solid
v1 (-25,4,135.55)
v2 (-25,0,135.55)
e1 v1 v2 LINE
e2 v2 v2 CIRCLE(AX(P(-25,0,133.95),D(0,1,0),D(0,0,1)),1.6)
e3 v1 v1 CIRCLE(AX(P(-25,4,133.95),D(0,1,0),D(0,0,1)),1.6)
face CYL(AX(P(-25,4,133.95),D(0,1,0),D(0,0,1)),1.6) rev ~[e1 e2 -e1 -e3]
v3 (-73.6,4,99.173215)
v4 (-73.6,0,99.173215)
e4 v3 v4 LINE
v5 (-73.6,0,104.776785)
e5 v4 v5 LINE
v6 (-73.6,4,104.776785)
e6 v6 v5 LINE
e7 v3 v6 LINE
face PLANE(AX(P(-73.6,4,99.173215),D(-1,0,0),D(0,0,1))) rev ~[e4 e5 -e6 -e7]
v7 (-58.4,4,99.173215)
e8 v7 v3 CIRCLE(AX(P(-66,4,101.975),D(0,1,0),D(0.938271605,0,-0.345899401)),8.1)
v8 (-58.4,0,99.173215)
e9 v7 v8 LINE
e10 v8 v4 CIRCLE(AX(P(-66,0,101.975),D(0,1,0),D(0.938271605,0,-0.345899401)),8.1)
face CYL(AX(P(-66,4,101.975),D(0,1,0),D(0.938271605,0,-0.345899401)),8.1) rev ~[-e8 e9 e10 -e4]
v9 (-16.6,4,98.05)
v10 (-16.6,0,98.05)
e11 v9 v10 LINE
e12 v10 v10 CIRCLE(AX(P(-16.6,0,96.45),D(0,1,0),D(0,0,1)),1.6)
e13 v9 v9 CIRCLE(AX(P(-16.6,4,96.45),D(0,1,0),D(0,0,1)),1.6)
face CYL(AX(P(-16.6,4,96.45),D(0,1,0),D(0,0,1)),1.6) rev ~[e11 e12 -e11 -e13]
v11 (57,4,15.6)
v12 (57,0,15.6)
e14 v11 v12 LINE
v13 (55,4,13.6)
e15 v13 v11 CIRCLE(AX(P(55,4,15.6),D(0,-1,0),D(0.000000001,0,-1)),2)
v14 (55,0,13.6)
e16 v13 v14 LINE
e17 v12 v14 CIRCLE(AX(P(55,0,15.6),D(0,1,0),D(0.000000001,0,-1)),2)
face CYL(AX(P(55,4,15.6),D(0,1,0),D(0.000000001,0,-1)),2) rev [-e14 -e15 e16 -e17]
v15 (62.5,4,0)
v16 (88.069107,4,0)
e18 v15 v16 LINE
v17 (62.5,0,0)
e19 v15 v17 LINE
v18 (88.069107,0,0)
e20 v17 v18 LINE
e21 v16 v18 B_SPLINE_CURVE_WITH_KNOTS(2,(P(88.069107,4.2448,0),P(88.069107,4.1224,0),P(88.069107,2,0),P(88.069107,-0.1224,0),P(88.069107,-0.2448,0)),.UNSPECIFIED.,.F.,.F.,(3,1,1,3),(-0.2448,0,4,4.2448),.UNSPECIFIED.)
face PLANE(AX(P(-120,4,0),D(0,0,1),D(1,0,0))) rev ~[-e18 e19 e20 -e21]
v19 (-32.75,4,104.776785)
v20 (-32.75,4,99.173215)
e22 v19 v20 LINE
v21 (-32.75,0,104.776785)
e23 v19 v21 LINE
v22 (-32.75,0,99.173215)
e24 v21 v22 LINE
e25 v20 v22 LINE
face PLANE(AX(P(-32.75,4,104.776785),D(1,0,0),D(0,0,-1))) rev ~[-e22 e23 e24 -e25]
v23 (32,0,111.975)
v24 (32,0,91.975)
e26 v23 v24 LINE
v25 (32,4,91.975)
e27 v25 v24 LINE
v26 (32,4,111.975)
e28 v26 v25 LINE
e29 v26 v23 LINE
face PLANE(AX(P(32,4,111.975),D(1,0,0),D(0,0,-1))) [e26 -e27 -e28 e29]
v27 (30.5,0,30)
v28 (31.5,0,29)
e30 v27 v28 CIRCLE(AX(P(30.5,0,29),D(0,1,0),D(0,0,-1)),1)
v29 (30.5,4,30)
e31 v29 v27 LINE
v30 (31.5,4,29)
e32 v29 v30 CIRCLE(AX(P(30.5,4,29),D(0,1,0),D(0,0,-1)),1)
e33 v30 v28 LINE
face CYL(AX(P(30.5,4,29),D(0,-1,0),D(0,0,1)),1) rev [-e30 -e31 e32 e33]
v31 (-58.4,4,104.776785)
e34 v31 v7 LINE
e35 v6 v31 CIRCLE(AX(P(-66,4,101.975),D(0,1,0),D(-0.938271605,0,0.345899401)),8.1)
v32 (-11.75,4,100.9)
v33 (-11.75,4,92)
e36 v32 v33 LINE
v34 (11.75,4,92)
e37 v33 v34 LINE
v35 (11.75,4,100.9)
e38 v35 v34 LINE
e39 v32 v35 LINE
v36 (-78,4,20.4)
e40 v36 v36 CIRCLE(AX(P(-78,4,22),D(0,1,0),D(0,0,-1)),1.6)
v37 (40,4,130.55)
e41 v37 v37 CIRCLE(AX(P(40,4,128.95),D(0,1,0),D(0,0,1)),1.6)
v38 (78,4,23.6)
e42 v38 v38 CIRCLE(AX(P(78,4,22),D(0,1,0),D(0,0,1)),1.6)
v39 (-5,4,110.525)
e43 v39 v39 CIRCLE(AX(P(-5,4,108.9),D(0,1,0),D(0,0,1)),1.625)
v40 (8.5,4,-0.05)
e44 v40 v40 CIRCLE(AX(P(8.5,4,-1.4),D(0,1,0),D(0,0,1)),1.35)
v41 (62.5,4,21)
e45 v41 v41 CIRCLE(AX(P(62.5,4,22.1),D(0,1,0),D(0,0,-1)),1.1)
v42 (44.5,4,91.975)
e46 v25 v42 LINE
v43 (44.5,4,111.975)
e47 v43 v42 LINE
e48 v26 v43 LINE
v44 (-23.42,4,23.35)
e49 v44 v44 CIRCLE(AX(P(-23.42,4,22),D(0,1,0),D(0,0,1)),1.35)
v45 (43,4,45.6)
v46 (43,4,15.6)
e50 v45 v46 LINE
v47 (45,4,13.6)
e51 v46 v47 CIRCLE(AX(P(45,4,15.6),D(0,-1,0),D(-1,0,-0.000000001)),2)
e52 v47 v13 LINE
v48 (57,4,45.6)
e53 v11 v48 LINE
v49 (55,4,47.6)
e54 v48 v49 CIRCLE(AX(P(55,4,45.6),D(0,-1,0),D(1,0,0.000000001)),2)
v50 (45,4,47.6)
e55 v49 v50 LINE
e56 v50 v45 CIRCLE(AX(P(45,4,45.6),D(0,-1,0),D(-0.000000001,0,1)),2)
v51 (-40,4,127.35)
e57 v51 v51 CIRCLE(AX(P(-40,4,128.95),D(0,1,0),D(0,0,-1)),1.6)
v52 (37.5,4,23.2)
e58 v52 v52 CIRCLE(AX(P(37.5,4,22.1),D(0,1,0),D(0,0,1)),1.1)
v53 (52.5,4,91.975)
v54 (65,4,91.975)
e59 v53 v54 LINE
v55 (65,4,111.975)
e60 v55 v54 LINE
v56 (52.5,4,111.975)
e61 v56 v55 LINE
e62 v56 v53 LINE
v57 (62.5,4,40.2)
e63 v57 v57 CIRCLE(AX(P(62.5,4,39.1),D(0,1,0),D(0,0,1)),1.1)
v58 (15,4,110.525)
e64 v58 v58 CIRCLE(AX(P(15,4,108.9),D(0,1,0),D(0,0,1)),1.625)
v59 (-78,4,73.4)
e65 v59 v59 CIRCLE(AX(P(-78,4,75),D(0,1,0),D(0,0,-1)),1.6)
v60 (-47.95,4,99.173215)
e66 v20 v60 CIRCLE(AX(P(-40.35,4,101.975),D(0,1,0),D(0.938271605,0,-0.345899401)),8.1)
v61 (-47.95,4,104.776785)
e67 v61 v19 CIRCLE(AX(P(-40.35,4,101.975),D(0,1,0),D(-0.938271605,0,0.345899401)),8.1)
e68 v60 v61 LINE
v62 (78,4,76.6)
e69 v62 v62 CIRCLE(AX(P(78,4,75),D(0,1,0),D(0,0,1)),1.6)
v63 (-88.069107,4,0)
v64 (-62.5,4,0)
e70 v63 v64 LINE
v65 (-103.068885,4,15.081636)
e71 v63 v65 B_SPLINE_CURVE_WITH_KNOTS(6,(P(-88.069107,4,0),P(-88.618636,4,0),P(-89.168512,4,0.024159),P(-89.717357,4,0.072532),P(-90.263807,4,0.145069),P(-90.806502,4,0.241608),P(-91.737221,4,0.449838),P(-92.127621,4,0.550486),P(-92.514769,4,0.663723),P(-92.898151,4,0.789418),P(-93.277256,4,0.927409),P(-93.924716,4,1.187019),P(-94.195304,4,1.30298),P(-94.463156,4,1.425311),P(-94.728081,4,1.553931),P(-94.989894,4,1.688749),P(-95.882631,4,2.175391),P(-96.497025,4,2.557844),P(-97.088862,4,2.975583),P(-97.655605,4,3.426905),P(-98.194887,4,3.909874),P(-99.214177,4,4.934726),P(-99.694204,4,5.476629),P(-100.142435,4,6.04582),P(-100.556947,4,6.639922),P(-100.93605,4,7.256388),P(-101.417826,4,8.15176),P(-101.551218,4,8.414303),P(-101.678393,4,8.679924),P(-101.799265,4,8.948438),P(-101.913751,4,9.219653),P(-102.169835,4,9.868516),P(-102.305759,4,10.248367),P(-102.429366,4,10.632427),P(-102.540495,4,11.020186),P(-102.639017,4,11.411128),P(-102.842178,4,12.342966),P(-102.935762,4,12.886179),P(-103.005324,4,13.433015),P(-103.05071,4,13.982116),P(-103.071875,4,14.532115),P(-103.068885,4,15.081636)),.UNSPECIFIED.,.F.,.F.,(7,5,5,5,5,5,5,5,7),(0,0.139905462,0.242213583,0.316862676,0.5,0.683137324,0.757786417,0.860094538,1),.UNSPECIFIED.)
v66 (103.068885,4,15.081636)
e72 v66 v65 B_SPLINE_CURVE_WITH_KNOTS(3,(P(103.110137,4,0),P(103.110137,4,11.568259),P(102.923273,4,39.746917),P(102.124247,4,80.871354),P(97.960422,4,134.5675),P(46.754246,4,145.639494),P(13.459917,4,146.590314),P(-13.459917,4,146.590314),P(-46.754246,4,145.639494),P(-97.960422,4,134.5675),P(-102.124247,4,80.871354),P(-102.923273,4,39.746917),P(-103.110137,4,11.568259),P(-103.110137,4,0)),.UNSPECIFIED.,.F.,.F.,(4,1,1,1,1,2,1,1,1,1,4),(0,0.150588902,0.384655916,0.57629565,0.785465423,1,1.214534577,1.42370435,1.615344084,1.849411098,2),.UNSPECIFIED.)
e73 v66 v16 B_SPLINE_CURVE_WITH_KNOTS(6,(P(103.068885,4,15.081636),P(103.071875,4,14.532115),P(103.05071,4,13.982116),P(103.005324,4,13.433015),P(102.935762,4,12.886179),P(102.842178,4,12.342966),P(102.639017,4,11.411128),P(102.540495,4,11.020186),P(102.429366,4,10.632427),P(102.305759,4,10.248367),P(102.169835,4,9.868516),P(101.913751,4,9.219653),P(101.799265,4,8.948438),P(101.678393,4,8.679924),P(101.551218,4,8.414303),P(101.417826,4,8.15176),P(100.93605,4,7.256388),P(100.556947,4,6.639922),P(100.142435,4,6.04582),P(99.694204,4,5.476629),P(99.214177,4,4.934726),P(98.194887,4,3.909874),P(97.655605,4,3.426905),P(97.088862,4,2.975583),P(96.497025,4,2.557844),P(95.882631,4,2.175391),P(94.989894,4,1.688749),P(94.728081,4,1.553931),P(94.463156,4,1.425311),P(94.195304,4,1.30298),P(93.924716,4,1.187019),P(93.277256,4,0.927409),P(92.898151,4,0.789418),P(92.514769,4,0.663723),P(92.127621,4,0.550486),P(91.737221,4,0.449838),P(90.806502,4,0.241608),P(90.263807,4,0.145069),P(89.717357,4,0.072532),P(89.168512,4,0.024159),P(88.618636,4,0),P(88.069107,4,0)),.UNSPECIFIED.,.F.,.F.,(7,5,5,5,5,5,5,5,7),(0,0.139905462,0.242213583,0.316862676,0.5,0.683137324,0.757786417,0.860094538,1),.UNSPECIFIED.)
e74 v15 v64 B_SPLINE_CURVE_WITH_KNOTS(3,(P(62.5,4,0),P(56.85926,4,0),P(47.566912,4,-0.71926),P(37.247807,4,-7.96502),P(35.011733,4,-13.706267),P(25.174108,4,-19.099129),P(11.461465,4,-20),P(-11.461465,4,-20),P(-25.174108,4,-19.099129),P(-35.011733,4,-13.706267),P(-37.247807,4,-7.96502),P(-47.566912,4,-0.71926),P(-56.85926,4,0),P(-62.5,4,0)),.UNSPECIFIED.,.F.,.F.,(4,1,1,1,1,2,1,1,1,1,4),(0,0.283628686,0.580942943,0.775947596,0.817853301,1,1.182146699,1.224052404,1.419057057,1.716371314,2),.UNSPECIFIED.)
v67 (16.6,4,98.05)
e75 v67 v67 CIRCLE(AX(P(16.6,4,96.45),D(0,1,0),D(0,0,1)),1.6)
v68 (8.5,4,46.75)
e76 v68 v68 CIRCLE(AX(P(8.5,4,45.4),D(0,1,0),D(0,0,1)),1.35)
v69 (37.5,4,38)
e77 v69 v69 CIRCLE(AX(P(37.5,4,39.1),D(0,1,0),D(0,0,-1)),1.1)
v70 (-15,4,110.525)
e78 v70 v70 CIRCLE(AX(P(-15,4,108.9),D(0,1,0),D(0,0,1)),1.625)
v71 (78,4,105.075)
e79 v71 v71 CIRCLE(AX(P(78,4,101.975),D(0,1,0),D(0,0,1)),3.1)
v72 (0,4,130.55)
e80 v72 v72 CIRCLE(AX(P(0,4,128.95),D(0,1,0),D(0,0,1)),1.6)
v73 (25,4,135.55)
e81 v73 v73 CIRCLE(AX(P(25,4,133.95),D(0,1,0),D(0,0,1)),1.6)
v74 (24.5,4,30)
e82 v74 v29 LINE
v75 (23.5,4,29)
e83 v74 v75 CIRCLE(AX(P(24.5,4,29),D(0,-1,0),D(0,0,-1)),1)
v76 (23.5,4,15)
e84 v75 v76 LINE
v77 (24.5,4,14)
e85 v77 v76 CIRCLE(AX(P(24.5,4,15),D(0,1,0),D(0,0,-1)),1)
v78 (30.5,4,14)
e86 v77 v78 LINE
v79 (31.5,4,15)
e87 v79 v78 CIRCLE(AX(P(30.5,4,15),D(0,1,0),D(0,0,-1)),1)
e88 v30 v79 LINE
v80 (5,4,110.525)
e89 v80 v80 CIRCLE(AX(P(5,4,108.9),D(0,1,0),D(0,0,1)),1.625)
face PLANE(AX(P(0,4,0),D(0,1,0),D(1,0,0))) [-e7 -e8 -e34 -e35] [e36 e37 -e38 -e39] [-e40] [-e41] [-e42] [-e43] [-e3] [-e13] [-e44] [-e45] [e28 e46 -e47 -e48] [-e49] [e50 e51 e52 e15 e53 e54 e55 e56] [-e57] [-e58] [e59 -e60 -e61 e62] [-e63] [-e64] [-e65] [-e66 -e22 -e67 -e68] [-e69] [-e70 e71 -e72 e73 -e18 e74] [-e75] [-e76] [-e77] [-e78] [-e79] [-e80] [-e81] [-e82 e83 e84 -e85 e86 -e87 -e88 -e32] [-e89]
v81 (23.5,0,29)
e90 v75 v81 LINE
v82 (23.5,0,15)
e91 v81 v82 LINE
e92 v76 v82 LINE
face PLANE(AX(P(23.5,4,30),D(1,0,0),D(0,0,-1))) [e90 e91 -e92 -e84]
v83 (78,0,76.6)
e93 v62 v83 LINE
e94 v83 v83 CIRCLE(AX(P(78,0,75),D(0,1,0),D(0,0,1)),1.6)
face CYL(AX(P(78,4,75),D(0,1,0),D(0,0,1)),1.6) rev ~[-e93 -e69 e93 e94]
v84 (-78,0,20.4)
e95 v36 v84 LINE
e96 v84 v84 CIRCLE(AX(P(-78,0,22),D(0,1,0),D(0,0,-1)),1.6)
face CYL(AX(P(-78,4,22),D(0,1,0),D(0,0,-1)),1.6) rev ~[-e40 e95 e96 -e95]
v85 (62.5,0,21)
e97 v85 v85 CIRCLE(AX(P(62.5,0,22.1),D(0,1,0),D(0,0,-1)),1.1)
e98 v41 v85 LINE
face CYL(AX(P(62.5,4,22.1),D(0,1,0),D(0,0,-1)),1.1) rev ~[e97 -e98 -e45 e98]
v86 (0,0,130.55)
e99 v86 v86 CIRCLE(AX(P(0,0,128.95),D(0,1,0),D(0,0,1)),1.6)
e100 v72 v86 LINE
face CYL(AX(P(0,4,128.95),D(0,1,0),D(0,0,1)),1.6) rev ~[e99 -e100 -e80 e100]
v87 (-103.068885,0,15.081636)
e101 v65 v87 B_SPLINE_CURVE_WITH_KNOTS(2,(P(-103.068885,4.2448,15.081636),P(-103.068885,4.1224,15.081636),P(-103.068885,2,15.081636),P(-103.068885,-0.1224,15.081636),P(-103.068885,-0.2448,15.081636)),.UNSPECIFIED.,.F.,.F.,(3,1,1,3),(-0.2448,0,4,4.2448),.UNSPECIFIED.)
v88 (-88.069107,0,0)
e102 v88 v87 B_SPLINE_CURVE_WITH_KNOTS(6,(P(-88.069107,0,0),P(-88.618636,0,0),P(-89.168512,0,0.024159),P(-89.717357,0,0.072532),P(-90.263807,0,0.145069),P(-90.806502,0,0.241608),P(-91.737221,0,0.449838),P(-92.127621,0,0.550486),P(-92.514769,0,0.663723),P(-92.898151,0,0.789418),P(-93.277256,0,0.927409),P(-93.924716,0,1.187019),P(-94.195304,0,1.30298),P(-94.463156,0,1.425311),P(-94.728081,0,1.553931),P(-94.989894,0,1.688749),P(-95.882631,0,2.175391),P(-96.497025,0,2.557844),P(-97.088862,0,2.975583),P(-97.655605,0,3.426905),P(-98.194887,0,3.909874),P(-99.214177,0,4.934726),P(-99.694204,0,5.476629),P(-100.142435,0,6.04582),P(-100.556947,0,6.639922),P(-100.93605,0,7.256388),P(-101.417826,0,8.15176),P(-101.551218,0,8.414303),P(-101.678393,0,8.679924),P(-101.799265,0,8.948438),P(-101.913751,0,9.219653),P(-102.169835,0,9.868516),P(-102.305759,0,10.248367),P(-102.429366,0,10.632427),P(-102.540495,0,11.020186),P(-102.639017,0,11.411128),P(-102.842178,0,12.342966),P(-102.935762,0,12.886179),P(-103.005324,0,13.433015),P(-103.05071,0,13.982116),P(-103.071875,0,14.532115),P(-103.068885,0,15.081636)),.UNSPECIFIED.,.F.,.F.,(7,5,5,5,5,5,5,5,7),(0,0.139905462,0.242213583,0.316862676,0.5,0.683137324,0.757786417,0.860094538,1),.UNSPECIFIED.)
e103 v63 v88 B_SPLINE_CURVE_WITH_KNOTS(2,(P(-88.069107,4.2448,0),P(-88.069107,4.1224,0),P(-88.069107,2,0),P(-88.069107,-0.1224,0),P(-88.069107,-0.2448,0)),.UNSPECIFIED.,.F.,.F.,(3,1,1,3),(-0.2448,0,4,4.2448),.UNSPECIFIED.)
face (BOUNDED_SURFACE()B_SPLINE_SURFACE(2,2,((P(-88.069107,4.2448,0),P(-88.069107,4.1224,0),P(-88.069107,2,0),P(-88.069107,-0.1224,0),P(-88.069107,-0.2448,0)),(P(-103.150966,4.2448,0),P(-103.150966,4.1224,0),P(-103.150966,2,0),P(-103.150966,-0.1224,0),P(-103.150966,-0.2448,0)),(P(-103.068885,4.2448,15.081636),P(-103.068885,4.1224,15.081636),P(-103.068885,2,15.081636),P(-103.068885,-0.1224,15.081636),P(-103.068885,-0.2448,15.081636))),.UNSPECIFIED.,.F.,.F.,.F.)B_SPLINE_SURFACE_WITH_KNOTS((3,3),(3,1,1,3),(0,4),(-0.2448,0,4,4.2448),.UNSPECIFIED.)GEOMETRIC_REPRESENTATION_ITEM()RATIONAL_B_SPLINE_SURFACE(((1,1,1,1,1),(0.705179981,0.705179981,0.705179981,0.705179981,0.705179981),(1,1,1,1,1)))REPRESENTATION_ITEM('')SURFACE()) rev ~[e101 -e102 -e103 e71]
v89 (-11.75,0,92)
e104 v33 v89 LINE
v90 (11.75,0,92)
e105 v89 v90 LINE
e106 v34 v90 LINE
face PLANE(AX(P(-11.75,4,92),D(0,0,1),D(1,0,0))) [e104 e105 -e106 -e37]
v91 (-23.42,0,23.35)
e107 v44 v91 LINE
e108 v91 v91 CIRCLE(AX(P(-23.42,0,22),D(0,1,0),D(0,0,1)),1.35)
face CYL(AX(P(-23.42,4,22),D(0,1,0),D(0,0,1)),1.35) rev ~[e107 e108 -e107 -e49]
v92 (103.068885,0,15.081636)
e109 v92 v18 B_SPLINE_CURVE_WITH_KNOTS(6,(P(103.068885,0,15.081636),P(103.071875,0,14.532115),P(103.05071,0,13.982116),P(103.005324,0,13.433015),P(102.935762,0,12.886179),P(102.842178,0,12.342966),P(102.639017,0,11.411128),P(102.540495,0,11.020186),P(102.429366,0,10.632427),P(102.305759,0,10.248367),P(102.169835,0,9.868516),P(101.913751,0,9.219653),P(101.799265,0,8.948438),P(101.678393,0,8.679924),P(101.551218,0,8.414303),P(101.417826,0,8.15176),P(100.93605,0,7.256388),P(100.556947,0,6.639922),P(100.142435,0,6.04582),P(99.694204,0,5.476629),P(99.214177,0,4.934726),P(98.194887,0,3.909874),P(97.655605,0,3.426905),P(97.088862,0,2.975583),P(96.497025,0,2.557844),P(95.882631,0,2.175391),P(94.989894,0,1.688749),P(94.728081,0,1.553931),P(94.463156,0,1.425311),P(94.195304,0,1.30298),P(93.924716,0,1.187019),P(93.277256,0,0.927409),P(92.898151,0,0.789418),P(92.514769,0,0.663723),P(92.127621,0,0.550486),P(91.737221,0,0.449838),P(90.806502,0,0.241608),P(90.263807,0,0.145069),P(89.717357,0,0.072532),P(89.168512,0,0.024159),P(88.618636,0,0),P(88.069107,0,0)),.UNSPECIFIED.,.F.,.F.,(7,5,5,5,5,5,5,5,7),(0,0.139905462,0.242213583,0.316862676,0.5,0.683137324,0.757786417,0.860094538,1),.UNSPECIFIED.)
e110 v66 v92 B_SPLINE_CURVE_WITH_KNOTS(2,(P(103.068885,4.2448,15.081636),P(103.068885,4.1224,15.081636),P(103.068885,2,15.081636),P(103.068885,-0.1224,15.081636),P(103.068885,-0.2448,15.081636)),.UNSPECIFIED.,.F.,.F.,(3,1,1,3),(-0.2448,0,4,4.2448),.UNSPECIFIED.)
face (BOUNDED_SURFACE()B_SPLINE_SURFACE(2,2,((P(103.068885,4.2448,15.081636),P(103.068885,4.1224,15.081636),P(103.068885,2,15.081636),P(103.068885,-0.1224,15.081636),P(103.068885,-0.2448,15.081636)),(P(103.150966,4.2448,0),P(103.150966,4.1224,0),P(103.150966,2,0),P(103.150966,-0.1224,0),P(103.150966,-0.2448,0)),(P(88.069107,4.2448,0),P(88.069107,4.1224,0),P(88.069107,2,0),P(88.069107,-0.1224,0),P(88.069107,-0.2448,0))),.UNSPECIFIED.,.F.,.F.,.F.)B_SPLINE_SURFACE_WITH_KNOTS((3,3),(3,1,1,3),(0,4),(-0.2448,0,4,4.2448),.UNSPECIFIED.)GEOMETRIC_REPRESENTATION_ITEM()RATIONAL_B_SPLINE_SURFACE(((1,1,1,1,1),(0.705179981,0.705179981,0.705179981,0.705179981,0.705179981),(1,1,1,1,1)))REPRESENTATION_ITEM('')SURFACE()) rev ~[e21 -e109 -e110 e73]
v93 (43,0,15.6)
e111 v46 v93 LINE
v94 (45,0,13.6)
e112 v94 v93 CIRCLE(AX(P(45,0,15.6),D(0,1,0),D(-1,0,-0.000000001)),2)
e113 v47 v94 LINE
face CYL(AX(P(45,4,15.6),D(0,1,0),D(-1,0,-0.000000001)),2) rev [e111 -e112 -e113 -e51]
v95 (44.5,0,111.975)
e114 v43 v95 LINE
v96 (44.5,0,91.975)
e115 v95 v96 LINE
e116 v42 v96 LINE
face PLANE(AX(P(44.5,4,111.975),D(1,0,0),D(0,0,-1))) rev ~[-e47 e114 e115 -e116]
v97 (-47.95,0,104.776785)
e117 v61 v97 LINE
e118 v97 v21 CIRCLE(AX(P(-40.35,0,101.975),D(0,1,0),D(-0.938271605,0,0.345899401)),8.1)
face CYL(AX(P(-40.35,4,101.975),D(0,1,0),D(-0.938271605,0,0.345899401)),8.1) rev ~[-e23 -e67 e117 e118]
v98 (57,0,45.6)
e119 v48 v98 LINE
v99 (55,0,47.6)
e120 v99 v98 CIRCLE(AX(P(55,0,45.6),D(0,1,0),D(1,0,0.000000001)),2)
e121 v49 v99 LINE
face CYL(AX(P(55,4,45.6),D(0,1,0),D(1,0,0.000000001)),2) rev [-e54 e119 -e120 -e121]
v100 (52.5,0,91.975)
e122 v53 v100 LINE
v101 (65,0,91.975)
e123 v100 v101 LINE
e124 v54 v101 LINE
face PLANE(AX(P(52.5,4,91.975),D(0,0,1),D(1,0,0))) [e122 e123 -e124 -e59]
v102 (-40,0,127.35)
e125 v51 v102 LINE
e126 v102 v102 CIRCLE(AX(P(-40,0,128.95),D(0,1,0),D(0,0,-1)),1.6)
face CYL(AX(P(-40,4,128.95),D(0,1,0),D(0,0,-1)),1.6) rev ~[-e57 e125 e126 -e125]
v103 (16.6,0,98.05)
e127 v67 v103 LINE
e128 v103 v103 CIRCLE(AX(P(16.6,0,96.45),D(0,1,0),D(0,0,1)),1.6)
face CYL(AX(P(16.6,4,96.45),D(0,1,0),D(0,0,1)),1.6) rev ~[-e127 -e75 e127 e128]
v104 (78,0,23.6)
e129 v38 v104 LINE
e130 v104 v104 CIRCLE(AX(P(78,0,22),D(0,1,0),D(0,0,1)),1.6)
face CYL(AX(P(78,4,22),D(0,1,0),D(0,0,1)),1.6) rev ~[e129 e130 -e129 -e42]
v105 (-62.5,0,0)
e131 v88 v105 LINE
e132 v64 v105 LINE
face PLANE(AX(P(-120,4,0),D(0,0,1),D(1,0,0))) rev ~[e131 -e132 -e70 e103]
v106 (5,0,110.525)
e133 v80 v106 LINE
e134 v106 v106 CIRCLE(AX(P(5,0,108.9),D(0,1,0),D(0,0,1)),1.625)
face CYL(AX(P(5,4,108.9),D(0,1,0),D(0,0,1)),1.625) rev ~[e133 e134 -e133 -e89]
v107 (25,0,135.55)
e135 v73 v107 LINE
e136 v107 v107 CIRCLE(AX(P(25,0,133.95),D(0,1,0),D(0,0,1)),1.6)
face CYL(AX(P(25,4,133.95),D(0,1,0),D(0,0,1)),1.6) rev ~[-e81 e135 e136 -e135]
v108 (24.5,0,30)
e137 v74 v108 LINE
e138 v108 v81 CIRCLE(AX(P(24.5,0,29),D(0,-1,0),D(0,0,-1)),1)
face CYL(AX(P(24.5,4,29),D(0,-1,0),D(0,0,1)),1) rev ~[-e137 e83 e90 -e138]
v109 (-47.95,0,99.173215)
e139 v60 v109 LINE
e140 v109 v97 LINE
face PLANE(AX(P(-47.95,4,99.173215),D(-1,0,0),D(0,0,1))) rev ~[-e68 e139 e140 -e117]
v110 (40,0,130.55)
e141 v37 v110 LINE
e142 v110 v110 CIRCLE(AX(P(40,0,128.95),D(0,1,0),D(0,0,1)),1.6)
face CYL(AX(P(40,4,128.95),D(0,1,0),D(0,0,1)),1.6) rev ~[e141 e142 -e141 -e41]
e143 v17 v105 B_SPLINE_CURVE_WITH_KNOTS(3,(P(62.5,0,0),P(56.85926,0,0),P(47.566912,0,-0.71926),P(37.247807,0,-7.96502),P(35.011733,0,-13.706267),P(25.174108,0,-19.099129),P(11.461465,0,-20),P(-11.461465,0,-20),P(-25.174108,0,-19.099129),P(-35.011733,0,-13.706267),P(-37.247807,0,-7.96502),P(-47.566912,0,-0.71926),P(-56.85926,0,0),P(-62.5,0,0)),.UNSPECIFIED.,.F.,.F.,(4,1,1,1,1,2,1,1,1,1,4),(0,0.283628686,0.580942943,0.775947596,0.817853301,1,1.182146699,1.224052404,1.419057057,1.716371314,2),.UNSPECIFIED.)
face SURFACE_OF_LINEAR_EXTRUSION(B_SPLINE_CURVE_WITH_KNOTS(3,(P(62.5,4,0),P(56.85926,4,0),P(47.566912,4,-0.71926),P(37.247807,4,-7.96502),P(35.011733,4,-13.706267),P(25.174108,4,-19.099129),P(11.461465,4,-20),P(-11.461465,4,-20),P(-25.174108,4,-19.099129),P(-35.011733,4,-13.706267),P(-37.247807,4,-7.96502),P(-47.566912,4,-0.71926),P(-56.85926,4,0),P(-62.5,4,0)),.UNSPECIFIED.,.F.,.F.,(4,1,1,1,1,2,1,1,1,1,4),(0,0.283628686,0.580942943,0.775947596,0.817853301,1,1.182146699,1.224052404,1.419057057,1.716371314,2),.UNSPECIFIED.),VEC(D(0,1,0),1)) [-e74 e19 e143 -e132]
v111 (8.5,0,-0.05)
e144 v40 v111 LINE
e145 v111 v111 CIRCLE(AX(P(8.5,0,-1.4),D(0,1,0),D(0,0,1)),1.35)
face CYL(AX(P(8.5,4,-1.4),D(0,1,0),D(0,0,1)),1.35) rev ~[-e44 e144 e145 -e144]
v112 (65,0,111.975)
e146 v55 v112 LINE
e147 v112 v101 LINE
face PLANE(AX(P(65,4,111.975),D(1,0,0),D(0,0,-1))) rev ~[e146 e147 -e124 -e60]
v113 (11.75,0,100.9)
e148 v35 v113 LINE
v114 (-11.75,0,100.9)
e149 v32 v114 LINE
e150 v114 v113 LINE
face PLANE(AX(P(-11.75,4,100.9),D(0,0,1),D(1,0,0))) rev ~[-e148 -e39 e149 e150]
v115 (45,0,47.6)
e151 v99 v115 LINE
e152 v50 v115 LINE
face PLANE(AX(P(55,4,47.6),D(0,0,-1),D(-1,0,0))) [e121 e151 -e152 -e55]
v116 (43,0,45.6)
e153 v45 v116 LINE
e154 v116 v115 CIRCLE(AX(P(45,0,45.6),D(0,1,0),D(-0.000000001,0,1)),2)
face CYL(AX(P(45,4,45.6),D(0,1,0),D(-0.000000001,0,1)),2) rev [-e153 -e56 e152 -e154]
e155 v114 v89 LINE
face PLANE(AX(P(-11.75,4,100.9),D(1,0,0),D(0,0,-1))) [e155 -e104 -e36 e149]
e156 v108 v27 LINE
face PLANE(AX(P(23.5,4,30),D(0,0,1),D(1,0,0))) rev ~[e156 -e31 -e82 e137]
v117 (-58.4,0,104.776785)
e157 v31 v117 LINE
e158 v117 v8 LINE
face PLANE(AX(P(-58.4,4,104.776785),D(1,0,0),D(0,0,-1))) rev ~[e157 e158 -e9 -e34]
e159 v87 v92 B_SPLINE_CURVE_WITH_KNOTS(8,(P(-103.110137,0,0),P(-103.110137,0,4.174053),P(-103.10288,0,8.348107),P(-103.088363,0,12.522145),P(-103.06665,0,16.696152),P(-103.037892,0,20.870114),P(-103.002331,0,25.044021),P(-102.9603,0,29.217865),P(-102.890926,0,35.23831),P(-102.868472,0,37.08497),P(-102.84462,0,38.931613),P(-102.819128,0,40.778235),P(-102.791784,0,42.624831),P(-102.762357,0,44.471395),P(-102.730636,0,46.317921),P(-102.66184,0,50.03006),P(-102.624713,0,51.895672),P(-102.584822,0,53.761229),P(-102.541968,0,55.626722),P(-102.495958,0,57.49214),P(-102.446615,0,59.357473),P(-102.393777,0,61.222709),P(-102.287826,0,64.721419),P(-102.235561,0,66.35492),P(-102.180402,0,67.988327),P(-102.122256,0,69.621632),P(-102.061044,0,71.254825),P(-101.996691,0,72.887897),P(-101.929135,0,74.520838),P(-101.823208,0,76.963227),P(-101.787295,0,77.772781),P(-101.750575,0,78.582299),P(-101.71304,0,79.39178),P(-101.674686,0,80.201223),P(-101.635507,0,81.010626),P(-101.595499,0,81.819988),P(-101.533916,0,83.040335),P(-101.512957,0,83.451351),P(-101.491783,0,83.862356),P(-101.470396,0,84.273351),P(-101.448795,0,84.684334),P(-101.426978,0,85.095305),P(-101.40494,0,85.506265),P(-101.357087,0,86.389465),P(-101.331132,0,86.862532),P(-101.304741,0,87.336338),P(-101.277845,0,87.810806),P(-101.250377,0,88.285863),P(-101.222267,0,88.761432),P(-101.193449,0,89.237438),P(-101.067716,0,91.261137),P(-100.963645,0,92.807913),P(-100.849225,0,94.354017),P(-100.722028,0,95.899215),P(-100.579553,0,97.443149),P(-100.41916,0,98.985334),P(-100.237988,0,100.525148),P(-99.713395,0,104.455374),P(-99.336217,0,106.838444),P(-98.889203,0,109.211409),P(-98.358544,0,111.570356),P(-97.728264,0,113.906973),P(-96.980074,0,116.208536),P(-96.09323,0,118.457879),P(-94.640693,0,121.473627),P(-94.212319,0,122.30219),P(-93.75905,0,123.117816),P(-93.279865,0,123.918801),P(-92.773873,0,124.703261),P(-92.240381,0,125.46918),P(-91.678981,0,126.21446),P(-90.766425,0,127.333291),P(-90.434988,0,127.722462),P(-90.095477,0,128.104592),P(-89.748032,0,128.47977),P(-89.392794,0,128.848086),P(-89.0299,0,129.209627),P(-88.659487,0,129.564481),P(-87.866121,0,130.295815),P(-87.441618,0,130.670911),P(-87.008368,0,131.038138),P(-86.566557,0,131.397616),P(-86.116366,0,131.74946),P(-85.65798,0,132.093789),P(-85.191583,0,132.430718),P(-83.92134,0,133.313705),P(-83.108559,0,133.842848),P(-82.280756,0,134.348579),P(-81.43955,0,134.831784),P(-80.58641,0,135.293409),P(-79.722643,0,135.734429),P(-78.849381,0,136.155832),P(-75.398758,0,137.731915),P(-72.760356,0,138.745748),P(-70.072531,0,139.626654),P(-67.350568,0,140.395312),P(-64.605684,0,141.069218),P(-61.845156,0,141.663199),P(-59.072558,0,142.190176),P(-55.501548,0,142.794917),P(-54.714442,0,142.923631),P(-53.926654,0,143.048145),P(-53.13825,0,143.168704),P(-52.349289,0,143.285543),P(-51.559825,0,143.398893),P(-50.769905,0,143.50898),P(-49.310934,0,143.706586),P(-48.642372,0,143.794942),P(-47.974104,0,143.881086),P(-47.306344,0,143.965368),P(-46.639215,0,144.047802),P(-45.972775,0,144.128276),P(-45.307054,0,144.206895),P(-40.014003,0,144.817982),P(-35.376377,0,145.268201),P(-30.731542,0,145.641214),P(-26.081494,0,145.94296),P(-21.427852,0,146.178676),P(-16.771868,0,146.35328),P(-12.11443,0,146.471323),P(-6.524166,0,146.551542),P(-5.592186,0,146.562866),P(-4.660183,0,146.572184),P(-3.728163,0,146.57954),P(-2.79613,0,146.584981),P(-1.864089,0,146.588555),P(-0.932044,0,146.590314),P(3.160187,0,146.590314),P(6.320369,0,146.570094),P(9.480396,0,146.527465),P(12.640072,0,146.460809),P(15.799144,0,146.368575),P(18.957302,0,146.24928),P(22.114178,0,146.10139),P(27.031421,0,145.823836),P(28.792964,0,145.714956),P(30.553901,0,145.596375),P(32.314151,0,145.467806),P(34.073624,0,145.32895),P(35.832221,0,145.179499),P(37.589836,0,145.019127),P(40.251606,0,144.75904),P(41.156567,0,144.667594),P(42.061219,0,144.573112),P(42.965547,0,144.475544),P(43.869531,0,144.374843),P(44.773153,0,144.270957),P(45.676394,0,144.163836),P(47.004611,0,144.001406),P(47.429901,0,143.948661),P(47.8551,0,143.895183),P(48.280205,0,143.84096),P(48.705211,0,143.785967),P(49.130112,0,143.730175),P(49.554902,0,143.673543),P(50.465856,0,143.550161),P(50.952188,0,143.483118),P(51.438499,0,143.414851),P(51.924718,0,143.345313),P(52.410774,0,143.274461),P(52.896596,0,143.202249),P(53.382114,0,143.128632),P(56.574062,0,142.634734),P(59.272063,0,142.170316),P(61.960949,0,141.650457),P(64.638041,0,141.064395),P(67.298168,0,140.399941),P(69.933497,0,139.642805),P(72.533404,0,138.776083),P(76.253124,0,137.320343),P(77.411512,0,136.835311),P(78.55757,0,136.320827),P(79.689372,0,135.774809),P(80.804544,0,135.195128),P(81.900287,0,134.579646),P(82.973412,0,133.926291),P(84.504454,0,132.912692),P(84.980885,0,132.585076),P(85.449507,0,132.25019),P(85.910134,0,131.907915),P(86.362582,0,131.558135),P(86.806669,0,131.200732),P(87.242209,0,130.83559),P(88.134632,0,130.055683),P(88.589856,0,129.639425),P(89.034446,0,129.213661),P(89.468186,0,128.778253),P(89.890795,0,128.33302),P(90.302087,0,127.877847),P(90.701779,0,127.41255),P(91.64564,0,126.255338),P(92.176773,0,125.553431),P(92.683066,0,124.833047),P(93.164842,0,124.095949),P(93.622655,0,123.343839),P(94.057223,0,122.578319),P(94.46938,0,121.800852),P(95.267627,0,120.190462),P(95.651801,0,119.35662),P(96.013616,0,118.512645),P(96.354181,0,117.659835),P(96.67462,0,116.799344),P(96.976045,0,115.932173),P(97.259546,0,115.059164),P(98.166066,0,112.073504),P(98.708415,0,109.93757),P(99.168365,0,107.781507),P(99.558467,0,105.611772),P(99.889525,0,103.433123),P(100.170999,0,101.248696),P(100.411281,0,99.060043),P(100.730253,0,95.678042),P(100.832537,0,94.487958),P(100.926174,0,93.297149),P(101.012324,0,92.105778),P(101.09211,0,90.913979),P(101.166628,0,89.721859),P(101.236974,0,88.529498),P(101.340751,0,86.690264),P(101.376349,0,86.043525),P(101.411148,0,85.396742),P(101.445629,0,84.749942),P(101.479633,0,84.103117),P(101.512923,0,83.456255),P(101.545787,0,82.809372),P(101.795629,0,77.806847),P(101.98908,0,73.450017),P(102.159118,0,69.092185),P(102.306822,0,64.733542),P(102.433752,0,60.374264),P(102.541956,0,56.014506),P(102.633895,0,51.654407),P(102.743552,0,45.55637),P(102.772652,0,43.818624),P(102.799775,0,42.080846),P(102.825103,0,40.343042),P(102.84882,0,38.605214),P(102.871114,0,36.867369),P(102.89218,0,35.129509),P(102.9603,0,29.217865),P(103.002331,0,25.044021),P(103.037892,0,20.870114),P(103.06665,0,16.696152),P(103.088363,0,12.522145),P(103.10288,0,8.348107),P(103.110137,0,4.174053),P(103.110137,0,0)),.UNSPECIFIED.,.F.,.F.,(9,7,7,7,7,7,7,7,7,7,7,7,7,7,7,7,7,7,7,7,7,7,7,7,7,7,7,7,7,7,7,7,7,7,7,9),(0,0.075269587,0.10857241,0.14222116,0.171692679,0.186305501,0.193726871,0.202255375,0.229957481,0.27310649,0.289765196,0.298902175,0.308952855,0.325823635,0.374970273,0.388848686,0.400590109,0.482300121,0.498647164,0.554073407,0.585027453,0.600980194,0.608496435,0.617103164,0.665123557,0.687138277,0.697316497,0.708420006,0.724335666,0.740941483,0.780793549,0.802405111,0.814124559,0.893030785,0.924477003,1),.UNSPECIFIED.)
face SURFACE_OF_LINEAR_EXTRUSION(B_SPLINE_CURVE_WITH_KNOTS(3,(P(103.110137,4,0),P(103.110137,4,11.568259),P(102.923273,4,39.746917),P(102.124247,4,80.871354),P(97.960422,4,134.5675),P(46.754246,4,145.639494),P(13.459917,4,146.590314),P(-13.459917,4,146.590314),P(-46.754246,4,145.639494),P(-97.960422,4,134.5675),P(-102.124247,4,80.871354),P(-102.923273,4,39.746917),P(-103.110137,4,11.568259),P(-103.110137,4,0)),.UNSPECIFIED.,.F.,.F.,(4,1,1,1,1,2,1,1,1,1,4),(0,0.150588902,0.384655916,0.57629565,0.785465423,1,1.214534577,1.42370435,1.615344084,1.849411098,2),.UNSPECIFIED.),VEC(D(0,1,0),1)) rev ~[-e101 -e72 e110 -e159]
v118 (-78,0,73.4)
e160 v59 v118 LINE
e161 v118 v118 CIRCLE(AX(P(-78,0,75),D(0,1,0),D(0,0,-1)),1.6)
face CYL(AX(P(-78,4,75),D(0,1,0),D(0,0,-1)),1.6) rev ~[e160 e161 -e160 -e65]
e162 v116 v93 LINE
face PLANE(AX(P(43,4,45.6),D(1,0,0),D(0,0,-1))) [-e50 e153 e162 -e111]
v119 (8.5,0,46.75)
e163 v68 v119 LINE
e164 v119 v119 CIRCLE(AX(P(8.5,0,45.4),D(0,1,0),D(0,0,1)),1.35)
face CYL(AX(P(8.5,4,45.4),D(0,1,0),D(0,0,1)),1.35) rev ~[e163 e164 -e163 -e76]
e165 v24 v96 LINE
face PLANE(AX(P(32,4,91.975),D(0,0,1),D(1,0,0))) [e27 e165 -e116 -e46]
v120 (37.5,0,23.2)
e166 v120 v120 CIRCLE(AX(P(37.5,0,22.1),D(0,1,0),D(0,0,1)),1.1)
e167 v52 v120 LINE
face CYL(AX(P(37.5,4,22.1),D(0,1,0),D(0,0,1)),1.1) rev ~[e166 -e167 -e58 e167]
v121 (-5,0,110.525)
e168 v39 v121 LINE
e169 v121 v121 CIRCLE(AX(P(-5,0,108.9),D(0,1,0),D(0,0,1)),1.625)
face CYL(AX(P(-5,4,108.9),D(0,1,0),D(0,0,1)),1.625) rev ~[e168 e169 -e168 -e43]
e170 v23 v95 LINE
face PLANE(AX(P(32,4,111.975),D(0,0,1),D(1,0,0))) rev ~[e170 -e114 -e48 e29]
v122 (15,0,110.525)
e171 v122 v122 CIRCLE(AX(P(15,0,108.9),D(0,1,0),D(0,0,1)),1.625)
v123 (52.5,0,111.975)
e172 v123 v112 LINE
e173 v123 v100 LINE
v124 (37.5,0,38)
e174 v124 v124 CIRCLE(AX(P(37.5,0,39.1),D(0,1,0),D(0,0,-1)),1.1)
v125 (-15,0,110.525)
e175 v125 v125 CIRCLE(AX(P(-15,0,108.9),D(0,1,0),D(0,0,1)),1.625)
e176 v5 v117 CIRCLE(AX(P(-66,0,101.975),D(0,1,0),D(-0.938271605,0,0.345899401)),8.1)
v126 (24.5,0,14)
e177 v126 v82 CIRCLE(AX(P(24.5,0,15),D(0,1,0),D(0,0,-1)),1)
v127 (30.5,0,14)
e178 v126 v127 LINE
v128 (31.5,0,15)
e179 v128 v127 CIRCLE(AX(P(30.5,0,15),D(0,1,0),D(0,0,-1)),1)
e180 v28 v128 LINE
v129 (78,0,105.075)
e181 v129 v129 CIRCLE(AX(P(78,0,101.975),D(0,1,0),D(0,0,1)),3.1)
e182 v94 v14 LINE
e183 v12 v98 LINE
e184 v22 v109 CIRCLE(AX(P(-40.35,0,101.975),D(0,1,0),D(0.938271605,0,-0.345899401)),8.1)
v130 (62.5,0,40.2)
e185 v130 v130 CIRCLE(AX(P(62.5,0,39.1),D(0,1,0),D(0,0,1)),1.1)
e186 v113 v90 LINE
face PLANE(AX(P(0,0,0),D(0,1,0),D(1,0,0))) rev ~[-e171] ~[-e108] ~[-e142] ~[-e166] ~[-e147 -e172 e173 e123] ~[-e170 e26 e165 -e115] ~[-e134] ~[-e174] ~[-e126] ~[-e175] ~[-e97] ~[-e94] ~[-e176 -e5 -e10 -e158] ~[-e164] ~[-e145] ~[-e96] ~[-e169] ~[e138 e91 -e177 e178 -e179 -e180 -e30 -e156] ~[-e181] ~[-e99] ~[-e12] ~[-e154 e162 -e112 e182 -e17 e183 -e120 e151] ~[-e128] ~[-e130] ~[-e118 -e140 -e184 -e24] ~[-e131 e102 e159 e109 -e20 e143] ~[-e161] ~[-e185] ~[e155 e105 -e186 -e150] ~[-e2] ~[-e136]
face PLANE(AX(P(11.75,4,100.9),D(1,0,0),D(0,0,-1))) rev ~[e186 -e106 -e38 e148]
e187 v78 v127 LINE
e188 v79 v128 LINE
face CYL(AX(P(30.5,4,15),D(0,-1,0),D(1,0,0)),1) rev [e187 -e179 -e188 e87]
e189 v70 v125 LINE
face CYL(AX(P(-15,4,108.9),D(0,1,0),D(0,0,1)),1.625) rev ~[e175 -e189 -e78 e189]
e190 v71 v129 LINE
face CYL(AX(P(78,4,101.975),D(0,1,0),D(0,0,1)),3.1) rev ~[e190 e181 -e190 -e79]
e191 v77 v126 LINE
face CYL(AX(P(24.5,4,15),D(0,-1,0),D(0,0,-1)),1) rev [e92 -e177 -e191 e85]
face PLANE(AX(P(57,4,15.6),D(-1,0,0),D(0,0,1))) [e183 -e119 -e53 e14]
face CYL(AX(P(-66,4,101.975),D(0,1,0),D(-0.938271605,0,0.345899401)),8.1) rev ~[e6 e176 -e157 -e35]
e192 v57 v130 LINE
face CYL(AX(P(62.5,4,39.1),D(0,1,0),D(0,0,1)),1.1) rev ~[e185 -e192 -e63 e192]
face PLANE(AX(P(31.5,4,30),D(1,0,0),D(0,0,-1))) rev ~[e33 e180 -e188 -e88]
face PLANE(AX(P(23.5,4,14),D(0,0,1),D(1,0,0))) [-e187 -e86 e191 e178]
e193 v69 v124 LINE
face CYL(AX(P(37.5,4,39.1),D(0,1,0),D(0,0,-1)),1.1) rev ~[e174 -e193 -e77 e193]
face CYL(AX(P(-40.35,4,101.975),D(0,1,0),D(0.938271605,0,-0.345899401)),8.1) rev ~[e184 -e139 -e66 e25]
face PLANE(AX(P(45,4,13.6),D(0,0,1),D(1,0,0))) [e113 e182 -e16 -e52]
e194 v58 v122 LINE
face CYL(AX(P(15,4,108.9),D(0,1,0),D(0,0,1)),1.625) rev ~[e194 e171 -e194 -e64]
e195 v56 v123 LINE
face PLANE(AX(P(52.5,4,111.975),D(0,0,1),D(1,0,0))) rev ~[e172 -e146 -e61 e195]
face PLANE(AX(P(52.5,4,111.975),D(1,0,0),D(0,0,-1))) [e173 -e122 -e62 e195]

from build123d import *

# Parameters (mm, degrees)
SKETCH1_W           = 240
SKETCH1_H           = 310
BOSS_EXTRUDE1_DEPTH = 4
CUT_EXTRUDE1_START  = -4
CUT_EXTRUDE1_DEPTH  = 4
SKETCH3_W           = 240
SKETCH3_H           = 155
CUT_EXTRUDE2_DEPTH  = 197.06376528
SKETCH14_R          = 1.6
CUT_EXTRUDE10_DEPTH = 197.06376528
BOSS_EXTRUDE3_DEPTH = 4
CUT_EXTRUDE11_DEPTH = 197.06376528
FILLET2_R           = 15
SKETCH18_R          = 1.35
CUT_EXTRUDE12_DEPTH = 10
SKETCH19_R          = 1.1
CUT_EXTRUDE13_DEPTH = 180.242742829
SKETCH20_W          = 8
SKETCH20_H          = 16
CUT_EXTRUDE14_DEPTH = 180.242742829
FILLET3_R           = 1
SKETCH21_R          = 1.6
SKETCH21_W          = 23.5
SKETCH21_H          = 8.9
CUT_EXTRUDE15_DEPTH = 180.242742829
SKETCH22_R          = 3.1
SKETCH22_W          = 12.5
SKETCH22_H          = 20
CUT_EXTRUDE16_DEPTH = 180.242742829
CUT_EXTRUDE17_DEPTH = 180.242742829
SKETCH24_R          = 1.6
CUT_EXTRUDE18_DEPTH = 180.242742829
SKETCH25_R          = 1.625
CUT_EXTRUDE19_DEPTH = 180.242742829


with BuildPart() as part:
    # Sketch1 → Boss-Extrude1 (new body)
    with BuildSketch(Plane(origin=(0, 0, 0), x_dir=(1, 0, 0), z_dir=(0, 1, 0))):
        Rectangle(SKETCH1_W, SKETCH1_H)
    extrude(amount=BOSS_EXTRUDE1_DEPTH)

    # Sketch2 → Cut-Extrude1 (cut)
    with BuildSketch(Plane(origin=(0, 4, 0), x_dir=(1, 0, 0), z_dir=(0, 1, 0)).offset(CUT_EXTRUDE1_START)):
        with BuildLine():
            add(Edge.make_bspline(
                [(0, -155), (-30.572222193, -155), (-80.343316982, -153.733320995), (-119.221157946, -117.654395612), (-120, -45.41001223), (-120, 0)],
                knots=[0, 0, 0, 0, 0.458017491, 0.558017491, 1, 1, 1, 1], degree=3))
            Line((-120, 0), (-120, -155))
            Line((-120, -155), (0, -155))
        make_face()
        with BuildLine():
            Line((120, -155), (120, 0))
            add(Edge.make_bspline(
                [(0, -155), (30.572222193, -155), (80.343316982, -153.733320995), (119.221157946, -117.654395612), (120, -45.41001223), (120, 0)],
                knots=[0, 0, 0, 0, 0.458017491, 0.558017491, 1, 1, 1, 1], degree=3))
            Line((0, -155), (120, -155))
        make_face()
    extrude(amount=CUT_EXTRUDE1_DEPTH, mode=Mode.SUBTRACT)

    # Sketch3 → Cut-Extrude2 (cut, through all)
    with BuildSketch(Plane(origin=(0, 4, 0), x_dir=(1, 0, 0), z_dir=(0, 1, 0))):
        with Locations((0, 77.5)):
            Rectangle(SKETCH3_W, SKETCH3_H)
    extrude(amount=-CUT_EXTRUDE2_DEPTH, mode=Mode.SUBTRACT)

    # Sketch14 → Cut-Extrude10 (cut, through all)
    with BuildSketch(Plane(origin=(0, 4, 0), x_dir=(1, 0, 0), z_dir=(0, 1, 0))):
        with Locations(Location((78, -75, 0), (0, 0, 270))):
            Circle(SKETCH14_R)
        with Locations(Location((78, -22, 0), (0, 0, 270))):
            Circle(SKETCH14_R)
        with Locations(Location((40, -128.95, 0), (0, 0, 270))):
            Circle(SKETCH14_R)
        with Locations(Location((-40, -128.95, 0), (0, 0, 90))):
            Circle(SKETCH14_R)
        with Locations(Location((-78, -75, 0), (0, 0, 90))):
            Circle(SKETCH14_R)
        with Locations(Location((-78, -22, 0), (0, 0, 90))):
            Circle(SKETCH14_R)
    extrude(amount=-CUT_EXTRUDE10_DEPTH, mode=Mode.SUBTRACT)

    # Sketch16 → Boss-Extrude3 (add, through all)
    with BuildSketch(Plane(origin=(0, 4, 0), x_dir=(1, 0, 0), z_dir=(0, 1, 0))):
        with BuildLine():
            Line((-62.5, 0), (62.5, 0))
            add(Edge.make_bspline(
                [(62.5, 0), (56.859259916, 0), (47.566912037, 0.719259662), (37.247807044, 7.965019714), (35.011733166, 13.706266708), (25.174107504, 19.099129057), (11.46146494, 20), (0, 20)],
                knots=[0, 0, 0, 0, 0.283628686, 0.580942943, 0.775947596, 0.817853301, 1, 1, 1, 1], degree=3))
            add(Edge.make_bspline(
                [(-62.5, 0), (-56.859259916, 0), (-47.566912037, 0.719259662), (-37.247807044, 7.965019714), (-35.011733166, 13.706266708), (-25.174107504, 19.099129057), (-11.46146494, 20), (0, 20)],
                knots=[0, 0, 0, 0, 0.283628686, 0.580942943, 0.775947596, 0.817853301, 1, 1, 1, 1], degree=3))
        make_face()
    extrude(amount=-BOSS_EXTRUDE3_DEPTH)

    # Sketch17 → Cut-Extrude11 (cut, through all)
    with BuildSketch(Plane(origin=(0, 4, 0), x_dir=(1, 0, 0), z_dir=(0, 1, 0))):
        with BuildLine():
            Line((103.110137058, 0), (120, 0))
            add(Edge.make_bspline(
                [(0, -155), (30.572222193, -155), (80.343316982, -153.733320995), (119.221157946, -117.654395612), (120, -45.41001223), (120, 0)],
                knots=[0, 0, 0, 0, 0.458017491, 0.558017491, 1, 1, 1, 1], degree=3))
            add(Edge.make_bspline(
                [(0, -155), (-30.572222193, -155), (-80.343316982, -153.733320995), (-119.221157946, -117.654395612), (-120, -45.41001223), (-120, 0)],
                knots=[0, 0, 0, 0, 0.458017491, 0.558017491, 1, 1, 1, 1], degree=3))
            Line((-120, 0), (-103.110137058, 0))
            add(Edge.make_bspline(
                [(0, -146.590313569), (-13.459917165, -146.590313569), (-46.754245971, -145.639494105), (-97.960421981, -134.567499832), (-102.124246572, -80.871354335), (-102.923272875, -39.746916924), (-103.110137058, -11.568258696), (-103.110137058, 0)],
                knots=[0, 0, 0, 0, 0.214534577, 0.42370435, 0.615344084, 0.849411098, 1, 1, 1, 1], degree=3))
            add(Edge.make_bspline(
                [(0, -146.590313569), (13.459917165, -146.590313569), (46.754245971, -145.639494105), (97.960421981, -134.567499832), (102.124246572, -80.871354335), (102.923272875, -39.746916924), (103.110137058, -11.568258696), (103.110137058, 0)],
                knots=[0, 0, 0, 0, 0.214534577, 0.42370435, 0.615344084, 0.849411098, 1, 1, 1, 1], degree=3))
        make_face()
    extrude(amount=-CUT_EXTRUDE11_DEPTH, mode=Mode.SUBTRACT)

    # Fillet2
    fillet2_edges = [part.edges().sort_by_distance(p)[0] for p in [
        (103.110137058, 2, 0),
        (-103.110137058, 2, 0),
    ]]
    fillet(fillet2_edges, radius=FILLET2_R)

    # Sketch18 → Cut-Extrude12 (cut)
    with BuildSketch(Plane(origin=(0, 4, 0), x_dir=(1, 0, 0), z_dir=(0, 1, 0))):
        with Locations(Location((8.5, 1.4, 0), (0, 0, 270))):
            Circle(SKETCH18_R)
        with Locations(Location((8.5, -45.4, 0), (0, 0, 270))):
            Circle(SKETCH18_R)
        with Locations(Location((-23.42, -22, 0), (0, 0, 270))):
            Circle(SKETCH18_R)
    extrude(amount=-CUT_EXTRUDE12_DEPTH, mode=Mode.SUBTRACT)

    # Sketch19 → Cut-Extrude13 (cut, through all)
    with BuildSketch(Plane(origin=(0, 4, 0), x_dir=(1, 0, 0), z_dir=(0, 1, 0))):
        with Locations(Location((37.5, -22.1, 0), (0, 0, 270))):
            Circle(SKETCH19_R)
        with Locations(Location((37.5, -39.1, 0), (0, 0, 90))):
            Circle(SKETCH19_R)
        with Locations(Location((62.5, -39.1, 0), (0, 0, 270))):
            Circle(SKETCH19_R)
        with Locations(Location((62.5, -22.1, 0), (0, 0, 90))):
            Circle(SKETCH19_R)
        with BuildLine():
            Line((45, -13.6), (55, -13.6))
            ThreePointArc((55, -13.6), (56.414213562, -14.185786438), (57, -15.6))
            Line((57, -15.6), (57, -45.6))
            ThreePointArc((57, -45.6), (56.414213562, -47.014213562), (55, -47.6))
            Line((55, -47.6), (45, -47.6))
            ThreePointArc((45, -47.6), (43.585786438, -47.014213562), (43, -45.6))
            Line((43, -45.6), (43, -15.6))
            ThreePointArc((43, -15.6), (43.585786438, -14.185786438), (45, -13.6))
        make_face()
    extrude(amount=-CUT_EXTRUDE13_DEPTH, mode=Mode.SUBTRACT)

    # Sketch20 → Cut-Extrude14 (cut, through all)
    with BuildSketch(Plane(origin=(0, 4, 0), x_dir=(1, 0, 0), z_dir=(0, 1, 0))):
        with Locations((27.5, -22)):
            Rectangle(SKETCH20_W, SKETCH20_H)
    extrude(amount=-CUT_EXTRUDE14_DEPTH, mode=Mode.SUBTRACT)

    # Fillet3
    fillet3_edges = [part.edges().sort_by_distance(p)[0] for p in [
        (23.5, 2, 30),
        (23.5, 2, 14),
        (31.5, 2, 14),
        (31.5, 2, 30),
    ]]
    fillet(fillet3_edges, radius=FILLET3_R)

    # Sketch21 → Cut-Extrude15 (cut, through all)
    with BuildSketch(Plane(origin=(0, 4, 0), x_dir=(1, 0, 0), z_dir=(0, 1, 0))):
        with Locations(Location((-16.6, -96.45, 0), (0, 0, 270))):
            Circle(SKETCH21_R)
        with Locations(Location((16.6, -96.45, 0), (0, 0, 270))):
            Circle(SKETCH21_R)
        with Locations((0, -96.45)):
            Rectangle(SKETCH21_W, SKETCH21_H)
    extrude(amount=-CUT_EXTRUDE15_DEPTH, mode=Mode.SUBTRACT)

    # Sketch22 → Cut-Extrude16 (cut, through all)
    with BuildSketch(Plane(origin=(0, 4, 0), x_dir=(1, 0, 0), z_dir=(0, 1, 0))):
        with Locations(Location((78, -101.975, 0), (0, 0, 270))):
            Circle(SKETCH22_R)
        with Locations((38.25, -101.975)):
            Rectangle(SKETCH22_W, SKETCH22_H)
        with Locations((58.75, -101.975)):
            Rectangle(SKETCH22_W, SKETCH22_H)
    extrude(amount=-CUT_EXTRUDE16_DEPTH, mode=Mode.SUBTRACT)

    # Sketch23 → Cut-Extrude17 (cut, through all)
    with BuildSketch(Plane(origin=(0, 4, 0), x_dir=(1, 0, 0), z_dir=(0, 1, 0))):
        with BuildLine():
            Line((-73.6, -99.173214855), (-73.6, -104.776785145))
            ThreePointArc((-73.6, -104.776785145), (-66, -110.075), (-58.4, -104.776785145))
            Line((-58.4, -104.776785145), (-58.4, -99.173214855))
            ThreePointArc((-58.4, -99.173214855), (-66, -93.875), (-73.6, -99.173214855))
        make_face()
        with BuildLine():
            Line((-47.95, -99.173214855), (-47.95, -104.776785145))
            ThreePointArc((-47.95, -104.776785145), (-40.35, -110.075), (-32.75, -104.776785145))
            Line((-32.75, -104.776785145), (-32.75, -99.173214855))
            ThreePointArc((-32.75, -99.173214855), (-40.35, -93.875), (-47.95, -99.173214855))
        make_face()
    extrude(amount=-CUT_EXTRUDE17_DEPTH, mode=Mode.SUBTRACT)

    # Sketch24 → Cut-Extrude18 (cut, through all)
    with BuildSketch(Plane(origin=(0, 4, 0), x_dir=(1, 0, 0), z_dir=(0, 1, 0))):
        with Locations(Location((-25, -133.95, 0), (0, 0, 270))):
            Circle(SKETCH24_R)
        with Locations(Location((25, -133.95, 0), (0, 0, 270))):
            Circle(SKETCH24_R)
        with Locations(Location((0, -128.95, 0), (0, 0, 270))):
            Circle(SKETCH24_R)
    extrude(amount=-CUT_EXTRUDE18_DEPTH, mode=Mode.SUBTRACT)

    # Sketch25 → Cut-Extrude19 (cut, through all)
    with BuildSketch(Plane(origin=(0, 4, 0), x_dir=(1, 0, 0), z_dir=(0, 1, 0))):
        with Locations(Location((-15, -108.9, 0), (0, 0, 270))):
            Circle(SKETCH25_R)
        with Locations(Location((-5, -108.9, 0), (0, 0, 270))):
            Circle(SKETCH25_R)
        with Locations(Location((5, -108.9, 0), (0, 0, 270))):
            Circle(SKETCH25_R)
        with Locations(Location((15, -108.9, 0), (0, 0, 270))):
            Circle(SKETCH25_R)
    extrude(amount=-CUT_EXTRUDE19_DEPTH, mode=Mode.SUBTRACT)


solid = part.part
